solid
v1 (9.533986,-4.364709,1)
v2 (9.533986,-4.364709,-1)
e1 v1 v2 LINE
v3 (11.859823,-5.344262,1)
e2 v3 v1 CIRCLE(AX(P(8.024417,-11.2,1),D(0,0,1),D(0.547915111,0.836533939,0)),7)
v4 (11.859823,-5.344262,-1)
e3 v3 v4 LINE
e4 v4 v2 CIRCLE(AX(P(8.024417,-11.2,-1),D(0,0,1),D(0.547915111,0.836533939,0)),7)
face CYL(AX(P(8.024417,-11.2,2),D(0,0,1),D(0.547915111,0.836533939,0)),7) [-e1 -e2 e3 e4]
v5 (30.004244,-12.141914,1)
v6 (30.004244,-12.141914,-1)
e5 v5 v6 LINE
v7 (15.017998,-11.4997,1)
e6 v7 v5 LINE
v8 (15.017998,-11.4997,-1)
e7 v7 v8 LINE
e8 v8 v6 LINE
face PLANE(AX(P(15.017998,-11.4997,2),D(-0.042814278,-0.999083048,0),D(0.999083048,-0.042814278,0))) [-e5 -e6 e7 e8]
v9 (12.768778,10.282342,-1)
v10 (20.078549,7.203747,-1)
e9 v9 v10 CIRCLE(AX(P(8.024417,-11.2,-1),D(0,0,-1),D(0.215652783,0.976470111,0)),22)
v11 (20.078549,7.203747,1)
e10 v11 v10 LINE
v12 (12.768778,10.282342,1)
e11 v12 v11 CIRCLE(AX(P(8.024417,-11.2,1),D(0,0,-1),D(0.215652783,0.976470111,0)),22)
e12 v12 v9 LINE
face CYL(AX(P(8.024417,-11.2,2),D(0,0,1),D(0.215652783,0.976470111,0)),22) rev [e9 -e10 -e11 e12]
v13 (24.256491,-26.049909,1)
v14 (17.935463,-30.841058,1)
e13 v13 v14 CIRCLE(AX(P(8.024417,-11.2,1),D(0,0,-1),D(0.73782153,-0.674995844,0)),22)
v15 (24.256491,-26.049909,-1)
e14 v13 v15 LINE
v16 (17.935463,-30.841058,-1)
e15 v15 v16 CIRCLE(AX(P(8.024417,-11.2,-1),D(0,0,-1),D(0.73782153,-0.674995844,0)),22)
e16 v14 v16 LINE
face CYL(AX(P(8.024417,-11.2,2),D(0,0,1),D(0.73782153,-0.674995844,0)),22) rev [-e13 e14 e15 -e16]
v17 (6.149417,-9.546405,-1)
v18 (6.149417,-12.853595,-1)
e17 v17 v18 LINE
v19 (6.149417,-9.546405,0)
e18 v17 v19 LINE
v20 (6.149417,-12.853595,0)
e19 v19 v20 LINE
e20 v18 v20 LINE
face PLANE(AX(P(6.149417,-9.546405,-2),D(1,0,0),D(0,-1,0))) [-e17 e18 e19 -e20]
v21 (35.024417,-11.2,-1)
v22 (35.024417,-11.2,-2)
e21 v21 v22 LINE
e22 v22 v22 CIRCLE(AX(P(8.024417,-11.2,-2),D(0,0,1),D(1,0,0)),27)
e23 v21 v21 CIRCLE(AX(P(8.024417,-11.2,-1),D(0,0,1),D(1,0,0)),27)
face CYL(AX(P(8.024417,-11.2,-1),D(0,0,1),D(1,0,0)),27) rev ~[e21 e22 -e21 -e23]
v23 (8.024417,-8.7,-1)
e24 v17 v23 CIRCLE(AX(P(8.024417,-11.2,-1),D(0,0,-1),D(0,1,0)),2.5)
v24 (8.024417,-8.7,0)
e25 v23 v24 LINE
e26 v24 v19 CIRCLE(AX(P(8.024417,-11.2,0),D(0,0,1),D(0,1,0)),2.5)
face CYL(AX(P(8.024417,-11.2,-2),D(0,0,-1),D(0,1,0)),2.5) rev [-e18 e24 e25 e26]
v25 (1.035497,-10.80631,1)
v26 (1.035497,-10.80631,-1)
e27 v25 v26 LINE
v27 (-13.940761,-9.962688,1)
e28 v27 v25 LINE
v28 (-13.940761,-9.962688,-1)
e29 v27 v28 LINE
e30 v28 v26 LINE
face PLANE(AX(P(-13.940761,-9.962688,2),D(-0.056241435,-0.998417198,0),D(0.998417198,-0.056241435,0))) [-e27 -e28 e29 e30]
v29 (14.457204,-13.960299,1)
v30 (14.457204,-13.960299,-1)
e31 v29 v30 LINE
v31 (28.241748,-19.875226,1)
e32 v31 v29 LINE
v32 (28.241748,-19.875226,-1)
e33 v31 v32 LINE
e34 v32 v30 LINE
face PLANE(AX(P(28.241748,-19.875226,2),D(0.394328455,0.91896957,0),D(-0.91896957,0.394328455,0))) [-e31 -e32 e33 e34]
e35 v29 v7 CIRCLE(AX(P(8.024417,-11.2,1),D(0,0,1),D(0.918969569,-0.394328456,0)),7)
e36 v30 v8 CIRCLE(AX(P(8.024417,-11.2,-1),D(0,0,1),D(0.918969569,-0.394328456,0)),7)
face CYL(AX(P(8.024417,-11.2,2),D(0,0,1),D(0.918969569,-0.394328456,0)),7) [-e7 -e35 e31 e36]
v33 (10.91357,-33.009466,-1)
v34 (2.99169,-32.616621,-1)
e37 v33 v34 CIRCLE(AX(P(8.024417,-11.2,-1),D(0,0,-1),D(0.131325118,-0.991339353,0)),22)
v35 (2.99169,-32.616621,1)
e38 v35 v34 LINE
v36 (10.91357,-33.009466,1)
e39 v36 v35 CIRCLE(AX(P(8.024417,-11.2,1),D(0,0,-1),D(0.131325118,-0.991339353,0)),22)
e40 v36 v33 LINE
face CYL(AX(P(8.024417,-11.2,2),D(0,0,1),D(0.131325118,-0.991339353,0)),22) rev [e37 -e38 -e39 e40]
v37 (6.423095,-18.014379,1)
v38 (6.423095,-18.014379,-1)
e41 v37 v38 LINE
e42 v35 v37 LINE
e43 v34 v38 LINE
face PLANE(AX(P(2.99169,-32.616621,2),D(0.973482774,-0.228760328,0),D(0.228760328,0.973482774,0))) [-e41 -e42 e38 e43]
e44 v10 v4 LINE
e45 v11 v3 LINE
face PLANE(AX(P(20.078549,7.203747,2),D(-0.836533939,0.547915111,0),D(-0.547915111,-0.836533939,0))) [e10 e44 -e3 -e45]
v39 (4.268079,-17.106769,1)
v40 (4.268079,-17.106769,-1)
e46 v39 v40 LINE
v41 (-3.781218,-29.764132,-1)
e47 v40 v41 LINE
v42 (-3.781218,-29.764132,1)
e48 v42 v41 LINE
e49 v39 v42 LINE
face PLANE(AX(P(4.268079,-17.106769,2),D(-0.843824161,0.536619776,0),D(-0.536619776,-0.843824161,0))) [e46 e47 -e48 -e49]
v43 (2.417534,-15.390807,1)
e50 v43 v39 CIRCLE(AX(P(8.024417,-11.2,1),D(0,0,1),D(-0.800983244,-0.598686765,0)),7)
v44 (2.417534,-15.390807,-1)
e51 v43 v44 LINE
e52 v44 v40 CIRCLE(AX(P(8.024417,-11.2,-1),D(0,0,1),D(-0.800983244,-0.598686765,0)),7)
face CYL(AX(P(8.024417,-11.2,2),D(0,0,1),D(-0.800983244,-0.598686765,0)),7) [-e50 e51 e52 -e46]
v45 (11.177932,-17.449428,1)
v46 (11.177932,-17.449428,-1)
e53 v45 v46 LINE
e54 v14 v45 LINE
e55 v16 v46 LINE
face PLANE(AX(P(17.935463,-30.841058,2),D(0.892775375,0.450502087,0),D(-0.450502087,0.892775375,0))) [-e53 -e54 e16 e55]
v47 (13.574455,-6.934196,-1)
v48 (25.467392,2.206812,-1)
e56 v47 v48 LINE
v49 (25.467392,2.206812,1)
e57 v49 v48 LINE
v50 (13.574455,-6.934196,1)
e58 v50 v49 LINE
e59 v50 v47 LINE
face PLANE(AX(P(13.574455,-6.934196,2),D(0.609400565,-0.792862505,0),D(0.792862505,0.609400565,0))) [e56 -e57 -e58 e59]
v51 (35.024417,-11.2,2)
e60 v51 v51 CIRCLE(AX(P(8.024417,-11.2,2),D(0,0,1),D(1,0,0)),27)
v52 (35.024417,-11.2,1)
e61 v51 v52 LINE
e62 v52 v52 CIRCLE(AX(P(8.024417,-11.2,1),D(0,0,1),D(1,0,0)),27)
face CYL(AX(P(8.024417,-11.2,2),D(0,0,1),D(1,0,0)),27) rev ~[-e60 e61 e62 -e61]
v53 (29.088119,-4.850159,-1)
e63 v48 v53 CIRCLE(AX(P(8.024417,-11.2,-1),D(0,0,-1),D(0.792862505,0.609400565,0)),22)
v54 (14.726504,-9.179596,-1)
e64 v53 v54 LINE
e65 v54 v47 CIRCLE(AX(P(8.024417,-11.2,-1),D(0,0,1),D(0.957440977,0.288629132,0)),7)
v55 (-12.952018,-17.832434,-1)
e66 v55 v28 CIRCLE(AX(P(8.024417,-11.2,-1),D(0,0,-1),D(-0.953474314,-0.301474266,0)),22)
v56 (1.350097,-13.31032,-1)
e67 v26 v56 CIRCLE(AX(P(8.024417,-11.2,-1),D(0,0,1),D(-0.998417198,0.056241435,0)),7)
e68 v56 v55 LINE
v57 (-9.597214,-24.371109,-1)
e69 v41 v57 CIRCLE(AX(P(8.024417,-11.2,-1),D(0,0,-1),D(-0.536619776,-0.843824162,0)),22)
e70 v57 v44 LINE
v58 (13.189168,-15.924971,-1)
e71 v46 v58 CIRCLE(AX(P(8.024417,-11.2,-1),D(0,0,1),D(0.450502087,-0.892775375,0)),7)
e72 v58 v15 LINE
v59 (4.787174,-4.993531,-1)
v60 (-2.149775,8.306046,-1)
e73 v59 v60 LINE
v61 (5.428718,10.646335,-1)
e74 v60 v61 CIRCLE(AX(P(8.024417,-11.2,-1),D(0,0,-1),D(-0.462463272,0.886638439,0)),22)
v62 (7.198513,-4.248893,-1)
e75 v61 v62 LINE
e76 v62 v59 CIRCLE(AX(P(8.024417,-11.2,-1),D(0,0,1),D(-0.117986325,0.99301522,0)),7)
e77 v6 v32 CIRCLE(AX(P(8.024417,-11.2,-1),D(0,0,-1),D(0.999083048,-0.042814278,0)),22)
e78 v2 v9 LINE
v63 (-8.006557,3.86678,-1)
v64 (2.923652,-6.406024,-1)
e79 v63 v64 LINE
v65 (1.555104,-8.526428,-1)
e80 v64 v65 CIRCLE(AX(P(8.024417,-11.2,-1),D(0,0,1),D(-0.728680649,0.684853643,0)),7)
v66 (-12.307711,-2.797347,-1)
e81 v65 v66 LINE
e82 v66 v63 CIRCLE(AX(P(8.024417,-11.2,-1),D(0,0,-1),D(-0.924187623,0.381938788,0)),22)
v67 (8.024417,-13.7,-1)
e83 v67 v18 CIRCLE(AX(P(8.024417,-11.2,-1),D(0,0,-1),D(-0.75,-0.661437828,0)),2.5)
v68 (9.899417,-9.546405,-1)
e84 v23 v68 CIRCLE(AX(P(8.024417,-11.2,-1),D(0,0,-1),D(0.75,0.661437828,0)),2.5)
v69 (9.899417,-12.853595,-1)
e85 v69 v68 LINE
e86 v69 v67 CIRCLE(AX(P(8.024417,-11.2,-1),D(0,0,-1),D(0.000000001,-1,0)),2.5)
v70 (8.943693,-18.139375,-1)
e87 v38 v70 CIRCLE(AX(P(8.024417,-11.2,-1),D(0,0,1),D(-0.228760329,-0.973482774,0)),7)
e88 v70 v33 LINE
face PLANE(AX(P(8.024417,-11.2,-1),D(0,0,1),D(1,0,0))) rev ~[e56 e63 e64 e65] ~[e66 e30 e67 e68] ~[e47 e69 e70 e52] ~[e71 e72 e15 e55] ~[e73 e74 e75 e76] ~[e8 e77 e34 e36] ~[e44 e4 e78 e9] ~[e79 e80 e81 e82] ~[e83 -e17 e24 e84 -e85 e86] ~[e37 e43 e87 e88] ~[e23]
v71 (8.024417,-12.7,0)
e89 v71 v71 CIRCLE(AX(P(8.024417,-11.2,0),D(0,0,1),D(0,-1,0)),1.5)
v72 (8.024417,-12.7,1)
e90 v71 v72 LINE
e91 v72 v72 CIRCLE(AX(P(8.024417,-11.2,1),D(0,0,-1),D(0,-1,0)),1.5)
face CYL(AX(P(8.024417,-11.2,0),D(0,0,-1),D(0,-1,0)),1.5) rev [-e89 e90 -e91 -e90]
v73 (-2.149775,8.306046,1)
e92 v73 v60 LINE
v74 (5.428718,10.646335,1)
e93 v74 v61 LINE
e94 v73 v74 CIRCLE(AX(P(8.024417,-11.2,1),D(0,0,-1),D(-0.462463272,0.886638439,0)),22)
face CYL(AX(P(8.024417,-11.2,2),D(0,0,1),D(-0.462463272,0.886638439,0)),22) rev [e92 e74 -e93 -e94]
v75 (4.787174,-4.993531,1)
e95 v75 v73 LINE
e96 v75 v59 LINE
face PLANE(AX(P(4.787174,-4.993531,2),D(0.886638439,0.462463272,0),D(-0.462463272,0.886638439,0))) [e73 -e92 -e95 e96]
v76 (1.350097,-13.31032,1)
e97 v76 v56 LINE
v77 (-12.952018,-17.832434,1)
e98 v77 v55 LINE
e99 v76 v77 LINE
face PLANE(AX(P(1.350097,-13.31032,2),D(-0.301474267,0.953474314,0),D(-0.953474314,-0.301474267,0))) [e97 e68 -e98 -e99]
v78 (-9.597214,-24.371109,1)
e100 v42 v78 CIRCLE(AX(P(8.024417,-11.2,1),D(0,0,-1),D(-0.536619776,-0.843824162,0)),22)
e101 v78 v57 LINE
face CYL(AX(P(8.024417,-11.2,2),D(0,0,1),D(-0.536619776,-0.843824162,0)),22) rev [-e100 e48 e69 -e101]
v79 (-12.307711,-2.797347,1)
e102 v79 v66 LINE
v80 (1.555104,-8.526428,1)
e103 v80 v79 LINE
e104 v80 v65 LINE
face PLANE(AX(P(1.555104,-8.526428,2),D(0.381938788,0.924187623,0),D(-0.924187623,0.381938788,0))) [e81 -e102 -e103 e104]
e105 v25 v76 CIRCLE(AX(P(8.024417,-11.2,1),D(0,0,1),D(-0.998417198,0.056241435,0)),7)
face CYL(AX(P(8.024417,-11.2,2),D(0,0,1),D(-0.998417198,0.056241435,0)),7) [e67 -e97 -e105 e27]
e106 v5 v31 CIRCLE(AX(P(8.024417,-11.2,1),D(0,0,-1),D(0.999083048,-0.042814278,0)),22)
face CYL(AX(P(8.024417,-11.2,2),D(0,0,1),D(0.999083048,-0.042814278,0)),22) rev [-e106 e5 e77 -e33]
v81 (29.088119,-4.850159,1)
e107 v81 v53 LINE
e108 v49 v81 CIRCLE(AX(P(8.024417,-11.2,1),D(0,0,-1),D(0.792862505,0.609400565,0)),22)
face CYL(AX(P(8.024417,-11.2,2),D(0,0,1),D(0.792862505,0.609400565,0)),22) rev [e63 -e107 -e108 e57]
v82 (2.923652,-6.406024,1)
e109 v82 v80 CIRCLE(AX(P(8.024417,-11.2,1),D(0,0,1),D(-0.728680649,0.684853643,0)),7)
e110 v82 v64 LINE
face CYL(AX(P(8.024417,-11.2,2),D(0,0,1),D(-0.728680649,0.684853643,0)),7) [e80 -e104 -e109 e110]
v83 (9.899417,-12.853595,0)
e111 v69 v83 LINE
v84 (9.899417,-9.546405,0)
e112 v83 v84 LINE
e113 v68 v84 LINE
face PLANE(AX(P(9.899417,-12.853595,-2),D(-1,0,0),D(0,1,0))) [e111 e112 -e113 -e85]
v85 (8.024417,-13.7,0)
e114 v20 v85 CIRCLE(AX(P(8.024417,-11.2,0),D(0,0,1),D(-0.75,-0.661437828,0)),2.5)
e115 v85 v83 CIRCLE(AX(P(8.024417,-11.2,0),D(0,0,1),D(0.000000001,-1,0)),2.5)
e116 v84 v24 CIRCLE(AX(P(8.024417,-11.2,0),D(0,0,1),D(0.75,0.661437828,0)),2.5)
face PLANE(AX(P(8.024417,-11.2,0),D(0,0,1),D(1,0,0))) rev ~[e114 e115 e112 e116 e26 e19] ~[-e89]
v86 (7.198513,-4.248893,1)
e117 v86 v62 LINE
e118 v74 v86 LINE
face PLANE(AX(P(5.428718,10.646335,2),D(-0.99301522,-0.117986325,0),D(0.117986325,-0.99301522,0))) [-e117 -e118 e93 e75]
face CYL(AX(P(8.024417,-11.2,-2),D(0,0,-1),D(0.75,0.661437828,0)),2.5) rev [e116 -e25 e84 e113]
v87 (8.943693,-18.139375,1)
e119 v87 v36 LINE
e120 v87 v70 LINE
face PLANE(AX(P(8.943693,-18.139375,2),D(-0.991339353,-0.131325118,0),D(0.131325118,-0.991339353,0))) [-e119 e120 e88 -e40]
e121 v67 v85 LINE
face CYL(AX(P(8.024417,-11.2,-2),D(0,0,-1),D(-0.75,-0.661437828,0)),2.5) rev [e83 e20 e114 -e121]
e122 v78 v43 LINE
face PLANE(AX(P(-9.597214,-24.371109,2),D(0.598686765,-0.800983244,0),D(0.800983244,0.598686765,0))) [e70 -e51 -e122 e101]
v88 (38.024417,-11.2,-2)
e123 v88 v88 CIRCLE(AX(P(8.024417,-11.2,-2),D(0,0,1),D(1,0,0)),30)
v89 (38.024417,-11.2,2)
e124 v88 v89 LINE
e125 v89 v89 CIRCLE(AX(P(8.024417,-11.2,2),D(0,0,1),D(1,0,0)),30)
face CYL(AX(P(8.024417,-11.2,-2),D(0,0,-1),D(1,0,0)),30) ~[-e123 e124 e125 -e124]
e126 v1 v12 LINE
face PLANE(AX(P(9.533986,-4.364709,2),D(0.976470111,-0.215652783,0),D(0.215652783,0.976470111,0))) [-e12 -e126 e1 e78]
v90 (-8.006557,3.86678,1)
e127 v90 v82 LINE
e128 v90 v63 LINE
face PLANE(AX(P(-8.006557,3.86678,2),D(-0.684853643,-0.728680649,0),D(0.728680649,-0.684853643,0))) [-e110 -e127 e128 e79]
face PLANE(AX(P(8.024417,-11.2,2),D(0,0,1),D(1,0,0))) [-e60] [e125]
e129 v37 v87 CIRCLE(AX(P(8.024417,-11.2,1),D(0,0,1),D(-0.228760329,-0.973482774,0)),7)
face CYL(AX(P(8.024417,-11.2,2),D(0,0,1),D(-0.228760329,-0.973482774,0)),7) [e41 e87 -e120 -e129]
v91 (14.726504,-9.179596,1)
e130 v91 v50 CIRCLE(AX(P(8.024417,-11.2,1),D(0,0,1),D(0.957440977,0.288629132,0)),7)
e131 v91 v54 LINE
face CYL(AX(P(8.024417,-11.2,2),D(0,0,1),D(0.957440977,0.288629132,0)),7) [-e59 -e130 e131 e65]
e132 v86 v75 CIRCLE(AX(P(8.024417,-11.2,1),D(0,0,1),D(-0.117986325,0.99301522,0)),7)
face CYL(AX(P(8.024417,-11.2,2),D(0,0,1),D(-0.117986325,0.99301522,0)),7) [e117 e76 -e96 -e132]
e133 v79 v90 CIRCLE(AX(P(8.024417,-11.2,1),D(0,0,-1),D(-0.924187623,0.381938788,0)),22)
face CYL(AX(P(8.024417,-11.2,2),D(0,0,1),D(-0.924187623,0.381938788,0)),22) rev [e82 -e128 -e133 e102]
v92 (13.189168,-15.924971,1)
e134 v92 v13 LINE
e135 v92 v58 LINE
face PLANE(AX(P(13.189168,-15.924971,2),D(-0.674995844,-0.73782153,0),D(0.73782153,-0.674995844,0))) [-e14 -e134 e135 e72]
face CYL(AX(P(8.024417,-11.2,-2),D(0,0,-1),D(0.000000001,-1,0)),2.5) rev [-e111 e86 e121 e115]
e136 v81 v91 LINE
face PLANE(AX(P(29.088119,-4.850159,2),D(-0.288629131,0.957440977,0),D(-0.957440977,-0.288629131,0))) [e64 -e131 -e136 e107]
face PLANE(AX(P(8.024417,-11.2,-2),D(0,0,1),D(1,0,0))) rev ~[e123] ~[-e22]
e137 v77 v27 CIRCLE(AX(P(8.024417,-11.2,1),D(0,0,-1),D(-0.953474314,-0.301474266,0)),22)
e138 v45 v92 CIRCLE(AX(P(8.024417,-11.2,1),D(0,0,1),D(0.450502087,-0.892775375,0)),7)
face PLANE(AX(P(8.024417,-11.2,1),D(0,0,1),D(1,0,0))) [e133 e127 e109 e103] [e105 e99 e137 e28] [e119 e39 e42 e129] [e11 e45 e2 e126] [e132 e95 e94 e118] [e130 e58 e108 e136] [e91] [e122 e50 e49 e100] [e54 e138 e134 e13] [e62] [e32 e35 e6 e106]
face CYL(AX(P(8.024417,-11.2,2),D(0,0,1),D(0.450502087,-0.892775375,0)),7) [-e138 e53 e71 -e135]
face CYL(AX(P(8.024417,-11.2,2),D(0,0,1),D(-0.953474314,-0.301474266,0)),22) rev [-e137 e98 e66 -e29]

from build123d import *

# Parameters (mm, degrees)
BOSS_EXTRU_1_START      = -2
ESQUISSE1_R             = 30
BOSS_EXTRU_1_DEPTH      = 4
BOSS_EXTRU_2_DEPTH      = 2
ENL_V_MAT_EXTRU_1_DEPTH = 12
ESQUISSE2_3_R           = 27
ENL_V_MAT_EXTRU_2_DEPTH = 1
ENL_V_START             = -3
ESQUISSE2_4_R           = 27
ENL_V_MAT_EXTRU_3_DEPTH = 1


with BuildPart() as part:
    # Esquisse1 → Boss.-Extru.1 (new body)
    with BuildSketch(Plane.XY.offset(BOSS_EXTRU_1_START)):
        with Locations((8.02441701, -11.2)):
            Circle(ESQUISSE1_R)
        with BuildLine():
            ThreePointArc((8.02441701, -13.7), (9.053011579, -13.478594569), (9.89941701, -12.853594569))
            Line((9.89941701, -12.853594569), (9.89941701, -9.546405431))
            ThreePointArc((9.89941701, -9.546405431), (9.053011579, -8.921405431), (8.02441701, -8.7))
            ThreePointArc((8.02441701, -8.7), (6.99582244, -8.921405431), (6.14941701, -9.546405431))
            Line((6.14941701, -9.546405431), (6.14941701, -12.853594569))
            ThreePointArc((6.14941701, -12.853594569), (6.99582244, -13.478594569), (8.02441701, -13.7))
        make_face(mode=Mode.SUBTRACT)
    extrude(amount=BOSS_EXTRU_1_DEPTH)

    # Esquisse1<3> → Boss.-Extru.2 (add)
    with BuildSketch(Plane.XY):
        with BuildLine():
            ThreePointArc((6.14941701, -12.853594569), (6.99582244, -13.478594569), (8.02441701, -13.7))
            ThreePointArc((8.02441701, -13.7), (9.053011579, -13.478594569), (9.89941701, -12.853594569))
            Line((9.89941701, -12.853594569), (9.89941701, -9.546405431))
            ThreePointArc((9.89941701, -9.546405431), (9.053011579, -8.921405431), (8.02441701, -8.7))
            ThreePointArc((8.02441701, -8.7), (6.99582244, -8.921405431), (6.14941701, -9.546405431))
            Line((6.14941701, -9.546405431), (6.14941701, -12.853594569))
        make_face()
        with BuildLine():
            ThreePointArc((8.02441701, -9.7), (6.52441701, -11.2), (8.02441701, -12.7))
            ThreePointArc((8.02441701, -12.7), (9.52441701, -11.2), (8.02441701, -9.7))
        make_face(mode=Mode.SUBTRACT)
    extrude(amount=BOSS_EXTRU_2_DEPTH)

    # Esquisse2 → Enlèv. mat.-Extru.1 (cut)
    with BuildSketch(Plane.XY.offset(2)):
        with BuildLine():
            ThreePointArc((11.17793162, -17.449427622), (12.252818192, -16.778586151), (13.189167721, -15.924970909))
            Line((13.189167721, -15.924970909), (24.256490673, -26.049908572))
            ThreePointArc((24.256490673, -26.049908572), (21.313677868, -28.732699331), (17.935462929, -30.84105824))
            Line((17.935462929, -30.84105824), (11.17793162, -17.449427622))
        make_face()
        with BuildLine():
            ThreePointArc((14.457203996, -13.960299184), (14.849406296, -12.755481033), (15.017998348, -11.499699945))
            Line((15.017998348, -11.499699945), (30.004244075, -12.141914112))
            ThreePointArc((30.004244075, -12.141914112), (29.474383338, -16.088654674), (28.241747539, -19.875226006))
            Line((28.241747539, -19.875226006), (14.457203996, -13.960299184))
        make_face()
        with BuildLine():
            ThreePointArc((6.423094711, -18.014379421), (7.677714181, -18.19140881), (8.943692835, -18.139375473))
            Line((8.943692835, -18.139375473), (10.913569605, -33.009465772))
            ThreePointArc((10.913569605, -33.009465772), (6.934779549, -33.172999117), (2.991689784, -32.616621038))
            Line((2.991689784, -32.616621038), (6.423094711, -18.014379421))
        make_face()
        with BuildLine():
            ThreePointArc((2.417534301, -15.390807356), (3.264836277, -16.332873586), (4.268078575, -17.106769131))
            Line((4.268078575, -17.106769131), (-3.781218072, -29.764131553))
            ThreePointArc((-3.781218072, -29.764131553), (-6.934265292, -27.331888414), (-9.59721436, -24.371108833))
            Line((-9.59721436, -24.371108833), (2.417534301, -15.390807356))
        make_face()
        with BuildLine():
            ThreePointArc((1.035496625, -10.806309953), (1.079019095, -12.072609766), (1.350096815, -13.310319865))
            Line((1.350096815, -13.310319865), (-12.952017889, -17.832433863))
            ThreePointArc((-12.952017889, -17.832433863), (-13.803976437, -13.942487836), (-13.940761343, -9.962688424))
            Line((-13.940761343, -9.962688424), (1.035496625, -10.806309953))
        make_face()
        with BuildLine():
            ThreePointArc((2.923652469, -6.406024499), (2.143030786, -7.404042138), (1.555103651, -8.526428482))
            Line((1.555103651, -8.526428482), (-12.30771069, -2.797346657))
            ThreePointArc((-12.30771069, -2.797346657), (-10.459939693, 0.73015328), (-8.00655726, 3.866780147))
            Line((-8.00655726, 3.866780147), (2.923652469, -6.406024499))
        make_face()
        with BuildLine():
            ThreePointArc((7.198512731, -4.248893461), (5.959008456, -4.511645381), (4.787174106, -4.993530925))
            Line((4.787174106, -4.993530925), (-2.149774974, 8.306045665))
            ThreePointArc((-2.149774974, 8.306045665), (1.533132983, 9.820543087), (5.428717849, 10.646334838))
            Line((5.428717849, 10.646334838), (7.198512731, -4.248893461))
        make_face()
        with BuildLine():
            ThreePointArc((11.859822784, -5.344262425), (10.741413742, -4.748804083), (9.533986494, -4.364709225))
            Line((9.533986494, -4.364709225), (12.768778245, 10.282342434))
            ThreePointArc((12.768778245, 10.282342434), (16.563549598, 9.075187167), (20.078549443, 7.203746664))
            Line((20.078549443, 7.203746664), (11.859822784, -5.344262425))
        make_face()
        with BuildLine():
            ThreePointArc((14.726503849, -9.17959608), (14.252506061, -8.004549052), (13.574454543, -6.934196045))
            Line((13.574454543, -6.934196045), (25.467392114, 2.206812429))
            ThreePointArc((25.467392114, 2.206812429), (27.598411173, -1.157154163), (29.088118504, -4.850159109))
            Line((29.088118504, -4.850159109), (14.726503849, -9.17959608))
        make_face()
    extrude(amount=-ENL_V_MAT_EXTRU_1_DEPTH, mode=Mode.SUBTRACT)

    # Esquisse2<3> → Enlèv. mat.-Extru.2 (cut)
    with BuildSketch(Plane.XY.offset(2)):
        with Locations((8.02441701, -11.2)):
            Circle(ESQUISSE2_3_R)
        with BuildLine():
            Line((-9.59721436, -24.371108833), (2.417534301, -15.390807356))
            ThreePointArc((2.417534301, -15.390807356), (3.264836277, -16.332873586), (4.268078575, -17.106769131))
            Line((4.268078575, -17.106769131), (-3.781218072, -29.764131553))
            ThreePointArc((-3.781218072, -29.764131553), (-6.934265292, -27.331888414), (-9.59721436, -24.371108833))
        make_face(mode=Mode.SUBTRACT)
        with BuildLine():
            Line((-13.940761343, -9.962688424), (1.035496625, -10.806309953))
            ThreePointArc((1.035496625, -10.806309953), (1.079019095, -12.072609766), (1.350096815, -13.310319865))
            Line((1.350096815, -13.310319865), (-12.952017889, -17.832433863))
            ThreePointArc((-12.952017889, -17.832433863), (-13.803976437, -13.942487836), (-13.940761343, -9.962688424))
        make_face(mode=Mode.SUBTRACT)
        with BuildLine():
            Line((-8.00655726, 3.866780147), (2.923652469, -6.406024499))
            ThreePointArc((2.923652469, -6.406024499), (2.143030786, -7.404042138), (1.555103651, -8.526428482))
            Line((1.555103651, -8.526428482), (-12.30771069, -2.797346657))
            ThreePointArc((-12.30771069, -2.797346657), (-10.459939693, 0.73015328), (-8.00655726, 3.866780147))
        make_face(mode=Mode.SUBTRACT)
        with BuildLine():
            Line((5.428717849, 10.646334838), (7.198512731, -4.248893461))
            ThreePointArc((7.198512731, -4.248893461), (5.959008456, -4.511645381), (4.787174106, -4.993530925))
            Line((4.787174106, -4.993530925), (-2.149774974, 8.306045665))
            ThreePointArc((-2.149774974, 8.306045665), (1.533132983, 9.820543087), (5.428717849, 10.646334838))
        make_face(mode=Mode.SUBTRACT)
        with BuildLine():
            Line((20.078549443, 7.203746664), (11.859822784, -5.344262425))
            ThreePointArc((11.859822784, -5.344262425), (10.741413742, -4.748804083), (9.533986494, -4.364709225))
            Line((9.533986494, -4.364709225), (12.768778245, 10.282342434))
            ThreePointArc((12.768778245, 10.282342434), (16.563549598, 9.075187167), (20.078549443, 7.203746664))
        make_face(mode=Mode.SUBTRACT)
        with BuildLine():
            Line((29.088118504, -4.850159109), (14.726503849, -9.17959608))
            ThreePointArc((14.726503849, -9.17959608), (14.252506061, -8.004549052), (13.574454543, -6.934196045))
            Line((13.574454543, -6.934196045), (25.467392114, 2.206812429))
            ThreePointArc((25.467392114, 2.206812429), (27.598411173, -1.157154163), (29.088118504, -4.850159109))
        make_face(mode=Mode.SUBTRACT)
        with BuildLine():
            Line((28.241747539, -19.875226006), (14.457203996, -13.960299184))
            ThreePointArc((14.457203996, -13.960299184), (14.849406296, -12.755481033), (15.017998348, -11.499699945))
            Line((15.017998348, -11.499699945), (30.004244075, -12.141914112))
            ThreePointArc((30.004244075, -12.141914112), (29.474383338, -16.088654674), (28.241747539, -19.875226006))
        make_face(mode=Mode.SUBTRACT)
        with BuildLine():
            Line((17.935462929, -30.84105824), (11.17793162, -17.449427622))
            ThreePointArc((11.17793162, -17.449427622), (12.252818192, -16.778586151), (13.189167721, -15.924970909))
            Line((13.189167721, -15.924970909), (24.256490673, -26.049908572))
            ThreePointArc((24.256490673, -26.049908572), (21.313677868, -28.732699331), (17.935462929, -30.84105824))
        make_face(mode=Mode.SUBTRACT)
        with BuildLine():
            Line((2.991689784, -32.616621038), (6.423094711, -18.014379421))
            ThreePointArc((6.423094711, -18.014379421), (7.677714181, -18.19140881), (8.943692835, -18.139375473))
            Line((8.943692835, -18.139375473), (10.913569605, -33.009465772))
            ThreePointArc((10.913569605, -33.009465772), (6.934779549, -33.172999117), (2.991689784, -32.616621038))
        make_face(mode=Mode.SUBTRACT)
    extrude(amount=-ENL_V_MAT_EXTRU_2_DEPTH, mode=Mode.SUBTRACT)

    # Esquisse2<4> → Enlèv. mat.-Extru.3 (cut)
    with BuildSketch(Plane.XY.offset(2).offset(ENL_V_START)):
        with Locations((8.02441701, -11.2)):
            Circle(ESQUISSE2_4_R)
        with BuildLine():
            Line((-9.59721436, -24.371108833), (2.417534301, -15.390807356))
            ThreePointArc((2.417534301, -15.390807356), (3.264836277, -16.332873586), (4.268078575, -17.106769131))
            Line((4.268078575, -17.106769131), (-3.781218072, -29.764131553))
            ThreePointArc((-3.781218072, -29.764131553), (-6.934265292, -27.331888414), (-9.59721436, -24.371108833))
        make_face(mode=Mode.SUBTRACT)
        with BuildLine():
            Line((-13.940761343, -9.962688424), (1.035496625, -10.806309953))
            ThreePointArc((1.035496625, -10.806309953), (1.079019095, -12.072609766), (1.350096815, -13.310319865))
            Line((1.350096815, -13.310319865), (-12.952017889, -17.832433863))
            ThreePointArc((-12.952017889, -17.832433863), (-13.803976437, -13.942487836), (-13.940761343, -9.962688424))
        make_face(mode=Mode.SUBTRACT)
        with BuildLine():
            Line((-8.00655726, 3.866780147), (2.923652469, -6.406024499))
            ThreePointArc((2.923652469, -6.406024499), (2.143030786, -7.404042138), (1.555103651, -8.526428482))
            Line((1.555103651, -8.526428482), (-12.30771069, -2.797346657))
            ThreePointArc((-12.30771069, -2.797346657), (-10.459939693, 0.73015328), (-8.00655726, 3.866780147))
        make_face(mode=Mode.SUBTRACT)
        with BuildLine():
            Line((5.428717849, 10.646334838), (7.198512731, -4.248893461))
            ThreePointArc((7.198512731, -4.248893461), (5.959008456, -4.511645381), (4.787174106, -4.993530925))
            Line((4.787174106, -4.993530925), (-2.149774974, 8.306045665))
            ThreePointArc((-2.149774974, 8.306045665), (1.533132983, 9.820543087), (5.428717849, 10.646334838))
        make_face(mode=Mode.SUBTRACT)
        with BuildLine():
            Line((20.078549443, 7.203746664), (11.859822784, -5.344262425))
            ThreePointArc((11.859822784, -5.344262425), (10.741413742, -4.748804083), (9.533986494, -4.364709225))
            Line((9.533986494, -4.364709225), (12.768778245, 10.282342434))
            ThreePointArc((12.768778245, 10.282342434), (16.563549598, 9.075187167), (20.078549443, 7.203746664))
        make_face(mode=Mode.SUBTRACT)
        with BuildLine():
            Line((29.088118504, -4.850159109), (14.726503849, -9.17959608))
            ThreePointArc((14.726503849, -9.17959608), (14.252506061, -8.004549052), (13.574454543, -6.934196045))
            Line((13.574454543, -6.934196045), (25.467392114, 2.206812429))
            ThreePointArc((25.467392114, 2.206812429), (27.598411173, -1.157154163), (29.088118504, -4.850159109))
        make_face(mode=Mode.SUBTRACT)
        with BuildLine():
            Line((28.241747539, -19.875226006), (14.457203996, -13.960299184))
            ThreePointArc((14.457203996, -13.960299184), (14.849406296, -12.755481033), (15.017998348, -11.499699945))
            Line((15.017998348, -11.499699945), (30.004244075, -12.141914112))
            ThreePointArc((30.004244075, -12.141914112), (29.474383338, -16.088654674), (28.241747539, -19.875226006))
        make_face(mode=Mode.SUBTRACT)
        with BuildLine():
            Line((17.935462929, -30.84105824), (11.17793162, -17.449427622))
            ThreePointArc((11.17793162, -17.449427622), (12.252818192, -16.778586151), (13.189167721, -15.924970909))
            Line((13.189167721, -15.924970909), (24.256490673, -26.049908572))
            ThreePointArc((24.256490673, -26.049908572), (21.313677868, -28.732699331), (17.935462929, -30.84105824))
        make_face(mode=Mode.SUBTRACT)
        with BuildLine():
            Line((2.991689784, -32.616621038), (6.423094711, -18.014379421))
            ThreePointArc((6.423094711, -18.014379421), (7.677714181, -18.19140881), (8.943692835, -18.139375473))
            Line((8.943692835, -18.139375473), (10.913569605, -33.009465772))
            ThreePointArc((10.913569605, -33.009465772), (6.934779549, -33.172999117), (2.991689784, -32.616621038))
        make_face(mode=Mode.SUBTRACT)
    extrude(amount=-ENL_V_MAT_EXTRU_3_DEPTH, mode=Mode.SUBTRACT)


solid = part.part
